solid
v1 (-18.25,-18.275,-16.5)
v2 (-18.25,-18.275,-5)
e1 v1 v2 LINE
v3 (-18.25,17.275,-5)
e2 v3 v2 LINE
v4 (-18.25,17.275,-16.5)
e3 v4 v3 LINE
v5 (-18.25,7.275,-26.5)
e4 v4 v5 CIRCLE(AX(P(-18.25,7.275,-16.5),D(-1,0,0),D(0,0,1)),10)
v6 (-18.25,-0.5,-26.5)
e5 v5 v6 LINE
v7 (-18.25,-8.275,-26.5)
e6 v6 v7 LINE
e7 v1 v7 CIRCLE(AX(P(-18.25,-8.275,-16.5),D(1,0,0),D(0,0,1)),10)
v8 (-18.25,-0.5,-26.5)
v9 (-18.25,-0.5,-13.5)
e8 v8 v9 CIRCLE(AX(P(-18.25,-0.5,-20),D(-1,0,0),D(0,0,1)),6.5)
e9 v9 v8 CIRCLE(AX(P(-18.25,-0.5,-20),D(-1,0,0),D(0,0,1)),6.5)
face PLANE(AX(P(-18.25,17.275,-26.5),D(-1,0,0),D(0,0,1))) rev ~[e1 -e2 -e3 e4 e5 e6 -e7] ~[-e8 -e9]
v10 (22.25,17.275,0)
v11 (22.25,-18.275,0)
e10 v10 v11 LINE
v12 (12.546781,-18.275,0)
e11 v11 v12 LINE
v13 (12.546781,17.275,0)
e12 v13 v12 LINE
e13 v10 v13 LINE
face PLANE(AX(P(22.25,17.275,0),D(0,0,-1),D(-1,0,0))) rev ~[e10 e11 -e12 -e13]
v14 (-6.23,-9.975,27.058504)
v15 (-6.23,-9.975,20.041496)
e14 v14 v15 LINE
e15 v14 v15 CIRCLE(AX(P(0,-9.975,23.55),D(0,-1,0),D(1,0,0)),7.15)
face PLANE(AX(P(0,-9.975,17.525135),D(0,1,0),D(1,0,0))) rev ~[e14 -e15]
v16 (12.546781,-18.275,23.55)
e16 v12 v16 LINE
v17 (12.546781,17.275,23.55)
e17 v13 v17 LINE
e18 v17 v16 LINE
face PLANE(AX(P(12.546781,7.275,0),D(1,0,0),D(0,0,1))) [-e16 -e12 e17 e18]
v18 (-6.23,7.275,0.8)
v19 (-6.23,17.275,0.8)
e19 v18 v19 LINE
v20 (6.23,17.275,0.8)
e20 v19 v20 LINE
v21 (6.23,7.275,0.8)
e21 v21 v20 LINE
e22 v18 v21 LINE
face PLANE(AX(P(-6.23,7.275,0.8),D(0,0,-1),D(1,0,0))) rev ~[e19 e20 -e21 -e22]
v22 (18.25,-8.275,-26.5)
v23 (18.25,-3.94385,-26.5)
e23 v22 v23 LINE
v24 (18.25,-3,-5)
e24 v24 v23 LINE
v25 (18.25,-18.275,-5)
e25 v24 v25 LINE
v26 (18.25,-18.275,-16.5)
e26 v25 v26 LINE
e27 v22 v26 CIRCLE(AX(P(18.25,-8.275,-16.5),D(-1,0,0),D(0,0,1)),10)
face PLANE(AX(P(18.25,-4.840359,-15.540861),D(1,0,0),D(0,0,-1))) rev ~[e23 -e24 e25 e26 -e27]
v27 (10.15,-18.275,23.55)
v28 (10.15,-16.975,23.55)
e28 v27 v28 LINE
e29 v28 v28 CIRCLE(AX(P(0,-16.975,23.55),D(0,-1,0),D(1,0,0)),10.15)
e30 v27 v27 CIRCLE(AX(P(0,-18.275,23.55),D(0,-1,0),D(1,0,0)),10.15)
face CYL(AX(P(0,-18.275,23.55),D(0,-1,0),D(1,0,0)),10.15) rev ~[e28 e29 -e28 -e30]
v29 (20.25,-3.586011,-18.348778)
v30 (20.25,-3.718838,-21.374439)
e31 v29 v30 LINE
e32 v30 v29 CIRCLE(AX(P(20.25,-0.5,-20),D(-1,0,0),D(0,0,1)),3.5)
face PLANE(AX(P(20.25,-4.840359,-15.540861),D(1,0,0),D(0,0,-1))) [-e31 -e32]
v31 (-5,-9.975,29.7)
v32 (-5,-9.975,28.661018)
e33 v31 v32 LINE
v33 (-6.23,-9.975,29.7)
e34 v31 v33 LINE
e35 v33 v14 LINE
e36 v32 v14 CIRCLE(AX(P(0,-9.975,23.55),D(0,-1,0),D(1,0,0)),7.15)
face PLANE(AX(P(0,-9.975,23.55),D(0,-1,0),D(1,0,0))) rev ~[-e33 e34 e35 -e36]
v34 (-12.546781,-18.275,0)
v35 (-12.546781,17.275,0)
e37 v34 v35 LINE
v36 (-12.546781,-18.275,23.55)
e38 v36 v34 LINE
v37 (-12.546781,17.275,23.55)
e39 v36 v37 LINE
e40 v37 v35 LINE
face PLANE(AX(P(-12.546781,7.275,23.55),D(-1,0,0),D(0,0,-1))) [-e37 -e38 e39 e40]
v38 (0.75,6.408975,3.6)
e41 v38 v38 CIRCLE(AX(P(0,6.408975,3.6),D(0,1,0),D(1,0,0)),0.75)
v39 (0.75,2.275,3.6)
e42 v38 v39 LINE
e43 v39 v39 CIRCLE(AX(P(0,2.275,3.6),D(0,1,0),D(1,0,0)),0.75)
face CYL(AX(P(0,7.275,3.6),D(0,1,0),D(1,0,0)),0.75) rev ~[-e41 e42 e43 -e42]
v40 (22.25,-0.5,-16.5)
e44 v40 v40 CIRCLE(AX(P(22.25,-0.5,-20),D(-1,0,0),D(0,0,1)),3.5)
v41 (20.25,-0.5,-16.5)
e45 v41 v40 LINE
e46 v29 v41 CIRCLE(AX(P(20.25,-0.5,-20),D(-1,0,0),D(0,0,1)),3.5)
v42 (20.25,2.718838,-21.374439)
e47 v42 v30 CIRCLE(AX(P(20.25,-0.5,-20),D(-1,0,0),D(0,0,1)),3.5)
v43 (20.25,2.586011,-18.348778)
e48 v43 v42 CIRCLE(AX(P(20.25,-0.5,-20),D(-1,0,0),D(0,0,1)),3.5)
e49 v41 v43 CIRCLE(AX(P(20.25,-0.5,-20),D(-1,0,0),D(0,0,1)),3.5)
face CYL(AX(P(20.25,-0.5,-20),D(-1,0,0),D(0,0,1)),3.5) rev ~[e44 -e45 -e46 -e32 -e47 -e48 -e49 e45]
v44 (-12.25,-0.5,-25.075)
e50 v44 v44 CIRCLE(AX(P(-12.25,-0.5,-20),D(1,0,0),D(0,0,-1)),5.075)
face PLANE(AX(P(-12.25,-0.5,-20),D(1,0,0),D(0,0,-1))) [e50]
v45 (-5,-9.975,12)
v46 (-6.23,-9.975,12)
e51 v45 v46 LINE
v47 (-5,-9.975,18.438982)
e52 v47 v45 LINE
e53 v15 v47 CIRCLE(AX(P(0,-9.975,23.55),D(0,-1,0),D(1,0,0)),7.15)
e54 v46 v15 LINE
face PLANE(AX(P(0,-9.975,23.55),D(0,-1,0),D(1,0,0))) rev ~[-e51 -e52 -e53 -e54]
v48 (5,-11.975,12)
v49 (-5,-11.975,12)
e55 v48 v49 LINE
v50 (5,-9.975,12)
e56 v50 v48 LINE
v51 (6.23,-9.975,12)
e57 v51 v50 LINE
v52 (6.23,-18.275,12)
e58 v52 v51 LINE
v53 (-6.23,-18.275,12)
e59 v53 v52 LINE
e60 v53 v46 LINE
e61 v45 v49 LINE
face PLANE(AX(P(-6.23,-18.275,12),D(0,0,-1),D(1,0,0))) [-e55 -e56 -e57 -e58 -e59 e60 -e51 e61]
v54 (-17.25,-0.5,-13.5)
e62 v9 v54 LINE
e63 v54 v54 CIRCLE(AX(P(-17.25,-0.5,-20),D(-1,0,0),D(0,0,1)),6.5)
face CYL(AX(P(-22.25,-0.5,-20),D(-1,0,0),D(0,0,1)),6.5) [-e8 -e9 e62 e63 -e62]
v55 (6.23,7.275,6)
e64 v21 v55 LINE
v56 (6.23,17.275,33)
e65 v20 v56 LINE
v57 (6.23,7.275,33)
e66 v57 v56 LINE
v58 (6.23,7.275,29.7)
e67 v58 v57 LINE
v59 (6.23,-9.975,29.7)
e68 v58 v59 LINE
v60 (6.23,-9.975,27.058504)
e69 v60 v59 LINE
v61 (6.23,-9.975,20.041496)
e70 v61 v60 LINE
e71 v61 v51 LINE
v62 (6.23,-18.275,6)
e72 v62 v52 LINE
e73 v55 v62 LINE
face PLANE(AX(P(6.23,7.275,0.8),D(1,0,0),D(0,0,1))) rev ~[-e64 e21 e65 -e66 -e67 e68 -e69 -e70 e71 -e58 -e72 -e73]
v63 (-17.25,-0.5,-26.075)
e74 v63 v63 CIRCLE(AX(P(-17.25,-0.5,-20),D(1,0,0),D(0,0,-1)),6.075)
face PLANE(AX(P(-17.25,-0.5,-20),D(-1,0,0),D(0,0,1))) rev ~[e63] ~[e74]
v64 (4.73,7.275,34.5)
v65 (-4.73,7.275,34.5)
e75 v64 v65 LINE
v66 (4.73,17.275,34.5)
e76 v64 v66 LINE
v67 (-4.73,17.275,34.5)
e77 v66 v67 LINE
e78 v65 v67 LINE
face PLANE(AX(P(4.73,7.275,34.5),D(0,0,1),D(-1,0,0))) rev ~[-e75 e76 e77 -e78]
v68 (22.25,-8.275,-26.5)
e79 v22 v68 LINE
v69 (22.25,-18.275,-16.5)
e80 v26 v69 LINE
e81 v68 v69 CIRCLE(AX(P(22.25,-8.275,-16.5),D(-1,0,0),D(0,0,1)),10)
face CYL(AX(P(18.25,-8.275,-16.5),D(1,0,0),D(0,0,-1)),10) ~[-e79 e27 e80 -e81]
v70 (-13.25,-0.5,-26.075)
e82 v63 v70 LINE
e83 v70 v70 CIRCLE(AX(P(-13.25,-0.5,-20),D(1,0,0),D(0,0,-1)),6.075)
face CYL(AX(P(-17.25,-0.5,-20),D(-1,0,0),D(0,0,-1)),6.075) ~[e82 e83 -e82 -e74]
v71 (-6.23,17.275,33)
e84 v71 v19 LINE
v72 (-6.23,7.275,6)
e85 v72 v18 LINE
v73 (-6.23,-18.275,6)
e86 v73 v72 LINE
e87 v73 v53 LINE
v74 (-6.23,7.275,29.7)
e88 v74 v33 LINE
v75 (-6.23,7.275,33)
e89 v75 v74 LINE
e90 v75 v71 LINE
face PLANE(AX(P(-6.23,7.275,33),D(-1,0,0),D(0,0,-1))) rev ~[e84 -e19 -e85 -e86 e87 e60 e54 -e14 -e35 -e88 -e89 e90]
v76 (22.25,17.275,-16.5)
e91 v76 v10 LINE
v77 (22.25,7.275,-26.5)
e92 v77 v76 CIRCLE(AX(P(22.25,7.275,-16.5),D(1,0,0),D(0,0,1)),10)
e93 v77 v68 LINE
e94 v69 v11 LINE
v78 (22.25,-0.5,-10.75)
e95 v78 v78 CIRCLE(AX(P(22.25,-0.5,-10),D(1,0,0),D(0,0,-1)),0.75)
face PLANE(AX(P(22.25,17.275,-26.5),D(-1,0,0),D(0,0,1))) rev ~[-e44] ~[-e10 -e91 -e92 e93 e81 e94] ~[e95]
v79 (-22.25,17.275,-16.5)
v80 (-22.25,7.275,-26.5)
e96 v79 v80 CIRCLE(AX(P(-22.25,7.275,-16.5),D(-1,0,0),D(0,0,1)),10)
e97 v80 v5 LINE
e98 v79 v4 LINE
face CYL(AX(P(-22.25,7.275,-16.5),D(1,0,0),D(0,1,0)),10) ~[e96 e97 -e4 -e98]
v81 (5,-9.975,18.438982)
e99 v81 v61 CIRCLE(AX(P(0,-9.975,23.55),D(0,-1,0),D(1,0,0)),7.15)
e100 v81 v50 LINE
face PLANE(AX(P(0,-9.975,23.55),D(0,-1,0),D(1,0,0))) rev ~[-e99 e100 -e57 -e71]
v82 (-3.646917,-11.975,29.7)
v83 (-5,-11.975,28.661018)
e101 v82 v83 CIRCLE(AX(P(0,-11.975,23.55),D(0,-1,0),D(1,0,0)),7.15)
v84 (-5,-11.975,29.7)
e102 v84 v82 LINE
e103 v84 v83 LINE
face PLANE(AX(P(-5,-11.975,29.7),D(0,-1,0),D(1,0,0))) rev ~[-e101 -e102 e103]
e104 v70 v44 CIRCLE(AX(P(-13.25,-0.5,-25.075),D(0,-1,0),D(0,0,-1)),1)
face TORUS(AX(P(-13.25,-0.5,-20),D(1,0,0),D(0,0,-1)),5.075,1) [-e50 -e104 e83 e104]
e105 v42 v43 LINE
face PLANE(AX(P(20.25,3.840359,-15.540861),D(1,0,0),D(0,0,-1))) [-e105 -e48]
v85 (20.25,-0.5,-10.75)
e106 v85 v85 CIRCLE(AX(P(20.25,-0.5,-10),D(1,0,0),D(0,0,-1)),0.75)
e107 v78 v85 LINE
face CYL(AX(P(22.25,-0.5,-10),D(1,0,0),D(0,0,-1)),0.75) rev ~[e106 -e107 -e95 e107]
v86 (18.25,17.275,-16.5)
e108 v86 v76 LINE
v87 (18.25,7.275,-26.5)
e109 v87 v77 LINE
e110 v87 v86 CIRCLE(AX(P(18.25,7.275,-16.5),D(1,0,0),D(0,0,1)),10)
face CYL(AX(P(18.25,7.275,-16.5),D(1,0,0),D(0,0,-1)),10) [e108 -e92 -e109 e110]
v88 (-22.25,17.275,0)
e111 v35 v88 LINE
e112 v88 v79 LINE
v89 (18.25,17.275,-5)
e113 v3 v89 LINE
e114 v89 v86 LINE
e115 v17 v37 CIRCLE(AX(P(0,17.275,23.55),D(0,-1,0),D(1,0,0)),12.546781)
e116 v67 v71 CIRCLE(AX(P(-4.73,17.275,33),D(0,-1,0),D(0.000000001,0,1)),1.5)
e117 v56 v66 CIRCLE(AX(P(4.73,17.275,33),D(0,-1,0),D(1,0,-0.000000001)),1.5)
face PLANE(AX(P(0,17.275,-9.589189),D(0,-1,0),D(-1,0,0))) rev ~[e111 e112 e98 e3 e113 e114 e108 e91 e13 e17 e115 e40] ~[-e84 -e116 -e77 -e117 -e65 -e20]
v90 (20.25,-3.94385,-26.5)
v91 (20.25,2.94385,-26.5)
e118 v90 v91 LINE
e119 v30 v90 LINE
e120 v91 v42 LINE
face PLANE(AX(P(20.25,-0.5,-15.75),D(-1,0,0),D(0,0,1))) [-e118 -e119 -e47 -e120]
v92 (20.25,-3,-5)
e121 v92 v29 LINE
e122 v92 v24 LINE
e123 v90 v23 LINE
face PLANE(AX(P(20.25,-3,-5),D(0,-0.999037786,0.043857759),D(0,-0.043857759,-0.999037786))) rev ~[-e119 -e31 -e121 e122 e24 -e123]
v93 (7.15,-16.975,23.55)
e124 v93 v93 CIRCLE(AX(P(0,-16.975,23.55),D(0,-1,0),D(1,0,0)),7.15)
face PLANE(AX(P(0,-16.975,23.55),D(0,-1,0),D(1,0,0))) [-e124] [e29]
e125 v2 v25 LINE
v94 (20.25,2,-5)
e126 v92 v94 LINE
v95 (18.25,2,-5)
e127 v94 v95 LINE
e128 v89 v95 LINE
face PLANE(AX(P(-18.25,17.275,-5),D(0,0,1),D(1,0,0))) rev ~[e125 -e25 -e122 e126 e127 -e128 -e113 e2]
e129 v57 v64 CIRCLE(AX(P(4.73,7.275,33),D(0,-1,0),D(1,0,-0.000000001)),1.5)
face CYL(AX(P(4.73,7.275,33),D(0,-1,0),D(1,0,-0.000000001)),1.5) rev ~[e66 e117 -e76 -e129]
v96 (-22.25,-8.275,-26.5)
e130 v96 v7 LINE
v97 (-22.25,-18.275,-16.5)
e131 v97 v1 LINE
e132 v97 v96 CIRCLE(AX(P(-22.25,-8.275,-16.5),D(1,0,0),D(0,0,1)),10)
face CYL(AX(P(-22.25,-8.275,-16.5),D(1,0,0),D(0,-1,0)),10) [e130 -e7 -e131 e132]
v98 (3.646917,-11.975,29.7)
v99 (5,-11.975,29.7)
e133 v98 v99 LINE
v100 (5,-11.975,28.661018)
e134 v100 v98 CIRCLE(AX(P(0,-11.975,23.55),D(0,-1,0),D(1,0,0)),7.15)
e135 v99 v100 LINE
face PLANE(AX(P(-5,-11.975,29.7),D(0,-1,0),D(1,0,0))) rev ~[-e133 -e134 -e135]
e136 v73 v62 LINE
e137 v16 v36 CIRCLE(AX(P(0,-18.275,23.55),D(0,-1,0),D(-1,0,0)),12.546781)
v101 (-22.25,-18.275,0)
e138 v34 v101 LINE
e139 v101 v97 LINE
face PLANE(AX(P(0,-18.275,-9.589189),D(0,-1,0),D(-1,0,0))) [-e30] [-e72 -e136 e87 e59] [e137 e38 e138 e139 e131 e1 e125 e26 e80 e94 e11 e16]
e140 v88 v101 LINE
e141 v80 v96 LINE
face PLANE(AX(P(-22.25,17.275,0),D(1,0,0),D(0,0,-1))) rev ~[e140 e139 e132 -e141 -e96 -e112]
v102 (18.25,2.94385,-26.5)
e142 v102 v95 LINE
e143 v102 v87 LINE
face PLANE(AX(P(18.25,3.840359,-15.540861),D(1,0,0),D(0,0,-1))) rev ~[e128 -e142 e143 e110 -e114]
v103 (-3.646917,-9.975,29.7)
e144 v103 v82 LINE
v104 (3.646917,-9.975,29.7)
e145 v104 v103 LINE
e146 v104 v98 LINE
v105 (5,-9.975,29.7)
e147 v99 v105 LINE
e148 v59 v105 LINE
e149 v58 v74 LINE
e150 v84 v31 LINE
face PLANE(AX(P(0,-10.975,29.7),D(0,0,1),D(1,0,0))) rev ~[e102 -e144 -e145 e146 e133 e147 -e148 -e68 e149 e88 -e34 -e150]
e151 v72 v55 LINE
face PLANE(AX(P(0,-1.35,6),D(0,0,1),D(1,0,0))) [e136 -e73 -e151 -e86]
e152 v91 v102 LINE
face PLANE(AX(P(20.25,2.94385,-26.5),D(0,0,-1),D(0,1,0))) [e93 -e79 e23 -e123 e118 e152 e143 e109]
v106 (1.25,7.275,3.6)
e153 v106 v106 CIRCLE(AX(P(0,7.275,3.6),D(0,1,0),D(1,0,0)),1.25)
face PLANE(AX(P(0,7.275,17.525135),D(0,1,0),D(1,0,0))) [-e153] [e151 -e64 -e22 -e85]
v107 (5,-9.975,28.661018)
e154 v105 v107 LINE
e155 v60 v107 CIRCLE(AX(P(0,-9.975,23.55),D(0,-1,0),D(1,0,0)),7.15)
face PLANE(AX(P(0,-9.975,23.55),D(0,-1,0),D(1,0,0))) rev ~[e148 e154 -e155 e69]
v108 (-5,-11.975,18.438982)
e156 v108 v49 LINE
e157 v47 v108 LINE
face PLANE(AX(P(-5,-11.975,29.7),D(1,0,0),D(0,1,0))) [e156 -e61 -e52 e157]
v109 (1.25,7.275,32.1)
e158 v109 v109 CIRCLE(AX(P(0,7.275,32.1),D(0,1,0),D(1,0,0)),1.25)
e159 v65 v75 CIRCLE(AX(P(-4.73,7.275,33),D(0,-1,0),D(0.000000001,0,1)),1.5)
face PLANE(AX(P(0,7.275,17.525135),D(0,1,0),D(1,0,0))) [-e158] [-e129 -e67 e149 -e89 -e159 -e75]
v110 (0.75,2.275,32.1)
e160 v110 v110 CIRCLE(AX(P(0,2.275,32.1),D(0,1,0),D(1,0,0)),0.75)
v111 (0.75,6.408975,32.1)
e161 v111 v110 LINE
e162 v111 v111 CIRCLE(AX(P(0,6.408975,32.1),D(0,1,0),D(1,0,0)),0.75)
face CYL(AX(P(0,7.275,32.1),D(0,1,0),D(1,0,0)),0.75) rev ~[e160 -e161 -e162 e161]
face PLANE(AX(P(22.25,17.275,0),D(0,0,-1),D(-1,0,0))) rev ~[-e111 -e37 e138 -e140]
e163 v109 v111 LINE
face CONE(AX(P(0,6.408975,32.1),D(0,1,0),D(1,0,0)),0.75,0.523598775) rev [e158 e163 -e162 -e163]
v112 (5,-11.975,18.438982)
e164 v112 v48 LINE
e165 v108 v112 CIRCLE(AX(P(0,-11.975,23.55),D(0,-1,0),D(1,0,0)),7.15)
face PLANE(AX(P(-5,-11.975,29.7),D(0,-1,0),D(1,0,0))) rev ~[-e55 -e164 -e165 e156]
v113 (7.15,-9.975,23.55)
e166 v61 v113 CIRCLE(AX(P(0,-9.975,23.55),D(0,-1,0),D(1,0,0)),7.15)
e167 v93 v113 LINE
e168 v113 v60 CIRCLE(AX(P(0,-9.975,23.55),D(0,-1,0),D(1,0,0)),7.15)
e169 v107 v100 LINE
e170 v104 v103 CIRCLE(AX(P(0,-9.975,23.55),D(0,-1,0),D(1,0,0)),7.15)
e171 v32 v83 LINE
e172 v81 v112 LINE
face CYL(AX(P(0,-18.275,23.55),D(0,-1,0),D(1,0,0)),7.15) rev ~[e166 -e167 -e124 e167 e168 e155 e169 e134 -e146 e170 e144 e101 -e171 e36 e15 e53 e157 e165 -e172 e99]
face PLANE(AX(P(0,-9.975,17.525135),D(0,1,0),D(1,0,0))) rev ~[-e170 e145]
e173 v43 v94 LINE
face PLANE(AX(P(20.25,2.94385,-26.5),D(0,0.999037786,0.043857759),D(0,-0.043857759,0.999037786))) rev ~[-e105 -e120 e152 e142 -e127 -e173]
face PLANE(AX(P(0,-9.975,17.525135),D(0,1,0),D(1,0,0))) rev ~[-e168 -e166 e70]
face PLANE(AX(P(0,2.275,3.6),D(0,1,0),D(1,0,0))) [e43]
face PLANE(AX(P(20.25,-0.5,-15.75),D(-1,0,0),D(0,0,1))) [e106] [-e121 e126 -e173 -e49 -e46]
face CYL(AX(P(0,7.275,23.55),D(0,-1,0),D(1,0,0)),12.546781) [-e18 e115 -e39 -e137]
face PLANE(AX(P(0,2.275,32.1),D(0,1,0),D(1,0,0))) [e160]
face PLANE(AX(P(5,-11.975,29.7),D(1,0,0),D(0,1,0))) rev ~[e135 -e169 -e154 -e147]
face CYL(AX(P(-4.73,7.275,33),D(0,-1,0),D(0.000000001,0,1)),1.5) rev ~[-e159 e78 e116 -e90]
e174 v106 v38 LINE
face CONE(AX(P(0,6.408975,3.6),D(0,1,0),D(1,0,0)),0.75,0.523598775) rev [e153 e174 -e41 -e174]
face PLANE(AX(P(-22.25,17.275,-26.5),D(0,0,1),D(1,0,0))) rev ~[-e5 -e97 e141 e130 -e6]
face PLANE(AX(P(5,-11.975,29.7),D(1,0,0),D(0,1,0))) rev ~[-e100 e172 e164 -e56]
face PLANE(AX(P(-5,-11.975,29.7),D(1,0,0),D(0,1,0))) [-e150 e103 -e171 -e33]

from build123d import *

# Parameters (mm, degrees)
SKETCH4_W                = 12.46
SKETCH4_H                = 17.25
BOSS_EXTRUDE3_DEPTH      = 6
SKETCH8_R                = 12.546781182
SKETCH8_R_2              = 11.15
BOSS_EXTRUDE6_DEPTH      = 8.3
BOSS_EXTRUDE6_DEPTH_BACK = 17.25
BOSS_EXTRUDE4_DEPTH      = 17.25
SKETCH6_R                = 0.75
CUT_EXTRUDE1_DEPTH       = 5
CHAMFER1_SIZE            = 0.5
CHAMFER1_SIZE2           = 0.866025404
SKETCH10_W               = 12.46
SKETCH10_H               = 23.7
CUT_EXTRUDE3_DEPTH       = 17.25
BOSS_EXTRUDE7_DEPTH      = 8.3
BOSS_EXTRUDE9_DEPTH      = 10
SKETCH20_R               = 11.15
SKETCH20_R_2             = 7.15
BOSS_EXTRUDE11_DEPTH     = 8.3
SKETCH21_R               = 10.15
SKETCH21_R_2             = 7.15
CUT_EXTRUDE7_DEPTH       = 1.3
SKETCH11_W               = 10
SKETCH11_H               = 2
CUT_EXTRUDE4_DEPTH       = 23.7
CUT_EXTRUDE8_REACH       = 37.55
SKETCH25_W               = 12.46
SKETCH25_H               = 6
BOSS_EXTRUDE10_DEPTH     = 35.55
SKETCH18_W               = 21.5
SKETCH18_H               = 11.438292938
CUT_EXTRUDE5_DEPTH       = 2
SKETCH19_R               = 3.5
CUT_EXTRUDE6_DEPTH       = 43.5
CUT_EXTRUDE6_DEPTH_BACK  = 3
FILLET1_R                = 10
SKETCH22_R               = 6.5
BOSS_EXTRUDE12_DEPTH     = 5
SKETCH23_R               = 6.075
BOSS_EXTRUDE13_DEPTH     = 5
FILLET2_R                = 1
BOSS_EXTRUDE14_DEPTH     = 2
CUT_EXTRUDE9_REACH       = 46.5
SKETCH27_R               = 0.75


with BuildPart() as part:
    # Sketch4 → Boss-Extrude3 (new body)
    with BuildSketch(Plane.XY):
        with Locations((0, -1.35)):
            Rectangle(SKETCH4_W, SKETCH4_H)
    extrude(amount=BOSS_EXTRUDE3_DEPTH)



with BuildPart() as body_2:
    # Sketch8 → Boss-Extrude6 (new body, two sides)
    with BuildSketch(Plane(origin=(0, -9.975, 0), x_dir=(-1, 0, 0), z_dir=(0, -1, 0))) as boss_extrude6_sk:
        with Locations((0, -23.55)):
            Circle(SKETCH8_R)
        with Locations((0, -23.55)):
            Circle(SKETCH8_R_2, mode=Mode.SUBTRACT)
    extrude(amount=BOSS_EXTRUDE6_DEPTH)
    extrude(boss_extrude6_sk.sketch, amount=-BOSS_EXTRUDE6_DEPTH_BACK)


with BuildPart() as part_1:
    add(part.part)

    add(body_2.part)  # Boss-Extrude4 merges body 2
    # Sketch5 → Boss-Extrude4 (add)
    with BuildSketch(Plane(origin=(0, 7.275, 0), x_dir=(1, 0, 0), z_dir=(0, 1, 0))):
        with BuildLine():
            Line((12.546781182, -23.55), (12.546781182, 0))
            Line((12.546781182, 0), (6.23, 0))
            Line((6.23, 0), (6.23, -29.7))
            Line((6.23, -29.7), (-6.23, -29.7))
            Line((-6.23, -29.7), (-6.23, 0))
            Line((-6.23, 0), (-12.546781182, 0))
            Line((-12.546781182, 0), (-12.546781182, -23.55))
            ThreePointArc((-12.546781182, -23.55), (0, -36.096781182), (12.546781182, -23.55))
        make_face()
    extrude(amount=-BOSS_EXTRUDE4_DEPTH)

    # Sketch6 → Cut-Extrude1 (cut)
    with BuildSketch(Plane(origin=(0, 7.275, 0), x_dir=(1, 0, 0), z_dir=(0, 1, 0))):
        with Locations((0, -3.6)):
            Circle(SKETCH6_R)
        with Locations((0, -32.1)):
            Circle(SKETCH6_R)
    extrude(amount=-CUT_EXTRUDE1_DEPTH, mode=Mode.SUBTRACT)

    # Chamfer1
    chamfer1_edges = [part_1.edges().sort_by_distance(p)[0] for p in [
        (-0.75, 7.275, 3.6),
        (-0.75, 7.275, 32.1),
    ]]
    chamfer1_side = [part_1.faces().sort_by_distance(p)[0] for p in [
        (0, 7.275, 35.657160381),
    ]]
    chamfer(chamfer1_edges, length=CHAMFER1_SIZE, length2=CHAMFER1_SIZE2, reference=chamfer1_side[0])

    # Sketch10 → Cut-Extrude3 (cut)
    with BuildSketch(Plane(origin=(0, 7.275, 0), x_dir=(1, 0, 0), z_dir=(0, 1, 0))):
        with Locations((0, -17.85)):
            Rectangle(SKETCH10_W, SKETCH10_H)
    extrude(amount=-CUT_EXTRUDE3_DEPTH, mode=Mode.SUBTRACT)

    # Sketch13 → Boss-Extrude7 (add)
    with BuildSketch(Plane.XZ.offset(18.275)):
        with BuildLine():
            Line((-12.546781182, 23.55), (-12.546781182, 0))
            Line((-12.546781182, 0), (12.546781182, 0))
            Line((12.546781182, 0), (12.546781182, 23.55))
            ThreePointArc((12.546781182, 23.55), (0, 11.003218818), (-12.546781182, 23.55))
        make_face()
    extrude(amount=-BOSS_EXTRUDE7_DEPTH)

    # Sketch15 → Boss-Extrude9 (add)
    with BuildSketch(Plane(origin=(0, 7.275, 0), x_dir=(1, 0, 0), z_dir=(0, 1, 0))):
        with BuildLine():
            Line((-12.546781182, 0), (12.546781182, 0))
            Line((12.546781182, 0), (12.546781182, -23.55))
            ThreePointArc((12.546781182, -23.55), (0, -36.096781182), (-12.546781182, -23.55))
            Line((-12.546781182, -23.55), (-12.546781182, 0))
        make_face()
        with BuildLine():
            Line((-6.23, -0.8), (6.23, -0.8))
            Line((6.23, -0.8), (6.23, -33))
            ThreePointArc((6.23, -33), (5.790660172, -34.060660172), (4.73, -34.5))
            Line((4.73, -34.5), (-4.73, -34.5))
            ThreePointArc((-4.73, -34.5), (-5.790660172, -34.060660172), (-6.23, -33))
            Line((-6.23, -33), (-6.23, -0.8))
        make_face(mode=Mode.SUBTRACT)
    extrude(amount=BOSS_EXTRUDE9_DEPTH)

    # Sketch20 → Boss-Extrude11 (add)
    with BuildSketch(Plane.XZ.offset(18.275)):
        with Locations((0, 23.55)):
            Circle(SKETCH20_R)
        with Locations((0, 23.55)):
            Circle(SKETCH20_R_2, mode=Mode.SUBTRACT)
    extrude(amount=-BOSS_EXTRUDE11_DEPTH)

    # Sketch21 → Cut-Extrude7 (cut)
    with BuildSketch(Plane.XZ.offset(18.275)):
        with Locations((0, 23.55)):
            Circle(SKETCH21_R)
        with Locations((0, 23.55)):
            Circle(SKETCH21_R_2, mode=Mode.SUBTRACT)
    extrude(amount=-CUT_EXTRUDE7_DEPTH, mode=Mode.SUBTRACT)

    # Sketch11 → Cut-Extrude4 (cut)
    with BuildSketch(Plane.XY.offset(29.7)):
        with Locations((0, -10.975)):
            Rectangle(SKETCH11_W, SKETCH11_H)
    extrude(amount=-CUT_EXTRUDE4_DEPTH, mode=Mode.SUBTRACT)

    # Sketch25 → Cut-Extrude8 (cut, up to next)
    with BuildSketch(Plane.XZ.offset(18.275), mode=Mode.PRIVATE) as cut_extrude8_sk1:
        with Locations((0, 9)):
            Rectangle(SKETCH25_W, SKETCH25_H)
    cut_extrude8_tool1 = extrude(cut_extrude8_sk1.sketch, amount=-CUT_EXTRUDE8_REACH, mode=Mode.PRIVATE) & part_1.part
    add(cut_extrude8_tool1.solids().sort_by_distance((0, -18.275, 9))[0], mode=Mode.SUBTRACT)

    # Sketch17 → Boss-Extrude10 (add)
    with BuildSketch(Plane(origin=(0, 17.275, 0), x_dir=(1, 0, 0), z_dir=(0, 1, 0))):
        Polygon((22.25, 26.5), (22.25, 0), (-22.25, 0), (-22.25, 26.5), (-18.25, 26.5), (-18.25, 5), (18.25, 5), (18.25, 26.5), align=None)
    extrude(amount=-BOSS_EXTRUDE10_DEPTH)

    # Sketch18 → Cut-Extrude5 (cut)
    with BuildSketch(Plane.ZY.offset(-18.25)):
        with Locations((-15.75, -0.5)):
            Rectangle(SKETCH18_W, SKETCH18_H)
    extrude(amount=-CUT_EXTRUDE5_DEPTH, mode=Mode.SUBTRACT)

    # Sketch19 → Cut-Extrude6 (cut, two sides)
    with BuildSketch(Plane.ZY.offset(-20.25)) as cut_extrude6_sk:
        with Locations((-20, -0.5)):
            Circle(SKETCH19_R)
    extrude(amount=CUT_EXTRUDE6_DEPTH, mode=Mode.SUBTRACT)
    extrude(cut_extrude6_sk.sketch, amount=-CUT_EXTRUDE6_DEPTH_BACK, mode=Mode.SUBTRACT)

    # Fillet1
    fillet1_edges = [part_1.edges().sort_by_distance(p)[0] for p in [
        (20.25, 17.275, -26.5),
        (-20.25, 17.275, -26.5),
        (-20.25, -18.275, -26.5),
        (20.25, -18.275, -26.5),
    ]]
    fillet(fillet1_edges, radius=FILLET1_R)

    # Sketch22 → Boss-Extrude12 (add)
    with BuildSketch(Plane.ZY.offset(22.25)):
        with Locations((-20, -0.5)):
            Circle(SKETCH22_R)
    extrude(amount=-BOSS_EXTRUDE12_DEPTH)

    # Sketch23 → Boss-Extrude13 (add)
    with BuildSketch(Plane(origin=(-17.25, 0, 0), x_dir=(0, 0, -1), z_dir=(1, 0, 0))):
        with Locations((20, -0.5)):
            Circle(SKETCH23_R)
    extrude(amount=BOSS_EXTRUDE13_DEPTH)

    # Fillet2
    fillet2_edges = [part_1.edges().sort_by_distance(p)[0] for p in [
        (-12.25, -0.5, -13.925),
    ]]
    fillet(fillet2_edges, radius=FILLET2_R)

    # Sketch26 → Boss-Extrude14 (add)
    with BuildSketch(Plane.ZY.offset(-20.25)):
        Polygon((-5, 2), (-20, 2.6585), (-26.5, 2.94385), (-26.5, 5.219146469), (-5, 5.219146469), align=None)
        Polygon((-20, -3.6585), (-5, -3), (-5, -6.219146469), (-26.5, -6.219146469), (-26.5, -3.94385), align=None)
    extrude(amount=BOSS_EXTRUDE14_DEPTH)

    # Sketch27 → Cut-Extrude9 (cut, up to next)
    with BuildSketch(Plane(origin=(22.25, 0, 0), x_dir=(0, 0, -1), z_dir=(1, 0, 0)), mode=Mode.PRIVATE) as cut_extrude9_sk1:
        with Locations((10, -0.5)):
            Circle(SKETCH27_R)
    cut_extrude9_tool1 = extrude(cut_extrude9_sk1.sketch, amount=-CUT_EXTRUDE9_REACH, mode=Mode.PRIVATE) & part_1.part
    add(cut_extrude9_tool1.solids().sort_by_distance((22.25, -0.5, -10))[0], mode=Mode.SUBTRACT)


solid = part_1.part
